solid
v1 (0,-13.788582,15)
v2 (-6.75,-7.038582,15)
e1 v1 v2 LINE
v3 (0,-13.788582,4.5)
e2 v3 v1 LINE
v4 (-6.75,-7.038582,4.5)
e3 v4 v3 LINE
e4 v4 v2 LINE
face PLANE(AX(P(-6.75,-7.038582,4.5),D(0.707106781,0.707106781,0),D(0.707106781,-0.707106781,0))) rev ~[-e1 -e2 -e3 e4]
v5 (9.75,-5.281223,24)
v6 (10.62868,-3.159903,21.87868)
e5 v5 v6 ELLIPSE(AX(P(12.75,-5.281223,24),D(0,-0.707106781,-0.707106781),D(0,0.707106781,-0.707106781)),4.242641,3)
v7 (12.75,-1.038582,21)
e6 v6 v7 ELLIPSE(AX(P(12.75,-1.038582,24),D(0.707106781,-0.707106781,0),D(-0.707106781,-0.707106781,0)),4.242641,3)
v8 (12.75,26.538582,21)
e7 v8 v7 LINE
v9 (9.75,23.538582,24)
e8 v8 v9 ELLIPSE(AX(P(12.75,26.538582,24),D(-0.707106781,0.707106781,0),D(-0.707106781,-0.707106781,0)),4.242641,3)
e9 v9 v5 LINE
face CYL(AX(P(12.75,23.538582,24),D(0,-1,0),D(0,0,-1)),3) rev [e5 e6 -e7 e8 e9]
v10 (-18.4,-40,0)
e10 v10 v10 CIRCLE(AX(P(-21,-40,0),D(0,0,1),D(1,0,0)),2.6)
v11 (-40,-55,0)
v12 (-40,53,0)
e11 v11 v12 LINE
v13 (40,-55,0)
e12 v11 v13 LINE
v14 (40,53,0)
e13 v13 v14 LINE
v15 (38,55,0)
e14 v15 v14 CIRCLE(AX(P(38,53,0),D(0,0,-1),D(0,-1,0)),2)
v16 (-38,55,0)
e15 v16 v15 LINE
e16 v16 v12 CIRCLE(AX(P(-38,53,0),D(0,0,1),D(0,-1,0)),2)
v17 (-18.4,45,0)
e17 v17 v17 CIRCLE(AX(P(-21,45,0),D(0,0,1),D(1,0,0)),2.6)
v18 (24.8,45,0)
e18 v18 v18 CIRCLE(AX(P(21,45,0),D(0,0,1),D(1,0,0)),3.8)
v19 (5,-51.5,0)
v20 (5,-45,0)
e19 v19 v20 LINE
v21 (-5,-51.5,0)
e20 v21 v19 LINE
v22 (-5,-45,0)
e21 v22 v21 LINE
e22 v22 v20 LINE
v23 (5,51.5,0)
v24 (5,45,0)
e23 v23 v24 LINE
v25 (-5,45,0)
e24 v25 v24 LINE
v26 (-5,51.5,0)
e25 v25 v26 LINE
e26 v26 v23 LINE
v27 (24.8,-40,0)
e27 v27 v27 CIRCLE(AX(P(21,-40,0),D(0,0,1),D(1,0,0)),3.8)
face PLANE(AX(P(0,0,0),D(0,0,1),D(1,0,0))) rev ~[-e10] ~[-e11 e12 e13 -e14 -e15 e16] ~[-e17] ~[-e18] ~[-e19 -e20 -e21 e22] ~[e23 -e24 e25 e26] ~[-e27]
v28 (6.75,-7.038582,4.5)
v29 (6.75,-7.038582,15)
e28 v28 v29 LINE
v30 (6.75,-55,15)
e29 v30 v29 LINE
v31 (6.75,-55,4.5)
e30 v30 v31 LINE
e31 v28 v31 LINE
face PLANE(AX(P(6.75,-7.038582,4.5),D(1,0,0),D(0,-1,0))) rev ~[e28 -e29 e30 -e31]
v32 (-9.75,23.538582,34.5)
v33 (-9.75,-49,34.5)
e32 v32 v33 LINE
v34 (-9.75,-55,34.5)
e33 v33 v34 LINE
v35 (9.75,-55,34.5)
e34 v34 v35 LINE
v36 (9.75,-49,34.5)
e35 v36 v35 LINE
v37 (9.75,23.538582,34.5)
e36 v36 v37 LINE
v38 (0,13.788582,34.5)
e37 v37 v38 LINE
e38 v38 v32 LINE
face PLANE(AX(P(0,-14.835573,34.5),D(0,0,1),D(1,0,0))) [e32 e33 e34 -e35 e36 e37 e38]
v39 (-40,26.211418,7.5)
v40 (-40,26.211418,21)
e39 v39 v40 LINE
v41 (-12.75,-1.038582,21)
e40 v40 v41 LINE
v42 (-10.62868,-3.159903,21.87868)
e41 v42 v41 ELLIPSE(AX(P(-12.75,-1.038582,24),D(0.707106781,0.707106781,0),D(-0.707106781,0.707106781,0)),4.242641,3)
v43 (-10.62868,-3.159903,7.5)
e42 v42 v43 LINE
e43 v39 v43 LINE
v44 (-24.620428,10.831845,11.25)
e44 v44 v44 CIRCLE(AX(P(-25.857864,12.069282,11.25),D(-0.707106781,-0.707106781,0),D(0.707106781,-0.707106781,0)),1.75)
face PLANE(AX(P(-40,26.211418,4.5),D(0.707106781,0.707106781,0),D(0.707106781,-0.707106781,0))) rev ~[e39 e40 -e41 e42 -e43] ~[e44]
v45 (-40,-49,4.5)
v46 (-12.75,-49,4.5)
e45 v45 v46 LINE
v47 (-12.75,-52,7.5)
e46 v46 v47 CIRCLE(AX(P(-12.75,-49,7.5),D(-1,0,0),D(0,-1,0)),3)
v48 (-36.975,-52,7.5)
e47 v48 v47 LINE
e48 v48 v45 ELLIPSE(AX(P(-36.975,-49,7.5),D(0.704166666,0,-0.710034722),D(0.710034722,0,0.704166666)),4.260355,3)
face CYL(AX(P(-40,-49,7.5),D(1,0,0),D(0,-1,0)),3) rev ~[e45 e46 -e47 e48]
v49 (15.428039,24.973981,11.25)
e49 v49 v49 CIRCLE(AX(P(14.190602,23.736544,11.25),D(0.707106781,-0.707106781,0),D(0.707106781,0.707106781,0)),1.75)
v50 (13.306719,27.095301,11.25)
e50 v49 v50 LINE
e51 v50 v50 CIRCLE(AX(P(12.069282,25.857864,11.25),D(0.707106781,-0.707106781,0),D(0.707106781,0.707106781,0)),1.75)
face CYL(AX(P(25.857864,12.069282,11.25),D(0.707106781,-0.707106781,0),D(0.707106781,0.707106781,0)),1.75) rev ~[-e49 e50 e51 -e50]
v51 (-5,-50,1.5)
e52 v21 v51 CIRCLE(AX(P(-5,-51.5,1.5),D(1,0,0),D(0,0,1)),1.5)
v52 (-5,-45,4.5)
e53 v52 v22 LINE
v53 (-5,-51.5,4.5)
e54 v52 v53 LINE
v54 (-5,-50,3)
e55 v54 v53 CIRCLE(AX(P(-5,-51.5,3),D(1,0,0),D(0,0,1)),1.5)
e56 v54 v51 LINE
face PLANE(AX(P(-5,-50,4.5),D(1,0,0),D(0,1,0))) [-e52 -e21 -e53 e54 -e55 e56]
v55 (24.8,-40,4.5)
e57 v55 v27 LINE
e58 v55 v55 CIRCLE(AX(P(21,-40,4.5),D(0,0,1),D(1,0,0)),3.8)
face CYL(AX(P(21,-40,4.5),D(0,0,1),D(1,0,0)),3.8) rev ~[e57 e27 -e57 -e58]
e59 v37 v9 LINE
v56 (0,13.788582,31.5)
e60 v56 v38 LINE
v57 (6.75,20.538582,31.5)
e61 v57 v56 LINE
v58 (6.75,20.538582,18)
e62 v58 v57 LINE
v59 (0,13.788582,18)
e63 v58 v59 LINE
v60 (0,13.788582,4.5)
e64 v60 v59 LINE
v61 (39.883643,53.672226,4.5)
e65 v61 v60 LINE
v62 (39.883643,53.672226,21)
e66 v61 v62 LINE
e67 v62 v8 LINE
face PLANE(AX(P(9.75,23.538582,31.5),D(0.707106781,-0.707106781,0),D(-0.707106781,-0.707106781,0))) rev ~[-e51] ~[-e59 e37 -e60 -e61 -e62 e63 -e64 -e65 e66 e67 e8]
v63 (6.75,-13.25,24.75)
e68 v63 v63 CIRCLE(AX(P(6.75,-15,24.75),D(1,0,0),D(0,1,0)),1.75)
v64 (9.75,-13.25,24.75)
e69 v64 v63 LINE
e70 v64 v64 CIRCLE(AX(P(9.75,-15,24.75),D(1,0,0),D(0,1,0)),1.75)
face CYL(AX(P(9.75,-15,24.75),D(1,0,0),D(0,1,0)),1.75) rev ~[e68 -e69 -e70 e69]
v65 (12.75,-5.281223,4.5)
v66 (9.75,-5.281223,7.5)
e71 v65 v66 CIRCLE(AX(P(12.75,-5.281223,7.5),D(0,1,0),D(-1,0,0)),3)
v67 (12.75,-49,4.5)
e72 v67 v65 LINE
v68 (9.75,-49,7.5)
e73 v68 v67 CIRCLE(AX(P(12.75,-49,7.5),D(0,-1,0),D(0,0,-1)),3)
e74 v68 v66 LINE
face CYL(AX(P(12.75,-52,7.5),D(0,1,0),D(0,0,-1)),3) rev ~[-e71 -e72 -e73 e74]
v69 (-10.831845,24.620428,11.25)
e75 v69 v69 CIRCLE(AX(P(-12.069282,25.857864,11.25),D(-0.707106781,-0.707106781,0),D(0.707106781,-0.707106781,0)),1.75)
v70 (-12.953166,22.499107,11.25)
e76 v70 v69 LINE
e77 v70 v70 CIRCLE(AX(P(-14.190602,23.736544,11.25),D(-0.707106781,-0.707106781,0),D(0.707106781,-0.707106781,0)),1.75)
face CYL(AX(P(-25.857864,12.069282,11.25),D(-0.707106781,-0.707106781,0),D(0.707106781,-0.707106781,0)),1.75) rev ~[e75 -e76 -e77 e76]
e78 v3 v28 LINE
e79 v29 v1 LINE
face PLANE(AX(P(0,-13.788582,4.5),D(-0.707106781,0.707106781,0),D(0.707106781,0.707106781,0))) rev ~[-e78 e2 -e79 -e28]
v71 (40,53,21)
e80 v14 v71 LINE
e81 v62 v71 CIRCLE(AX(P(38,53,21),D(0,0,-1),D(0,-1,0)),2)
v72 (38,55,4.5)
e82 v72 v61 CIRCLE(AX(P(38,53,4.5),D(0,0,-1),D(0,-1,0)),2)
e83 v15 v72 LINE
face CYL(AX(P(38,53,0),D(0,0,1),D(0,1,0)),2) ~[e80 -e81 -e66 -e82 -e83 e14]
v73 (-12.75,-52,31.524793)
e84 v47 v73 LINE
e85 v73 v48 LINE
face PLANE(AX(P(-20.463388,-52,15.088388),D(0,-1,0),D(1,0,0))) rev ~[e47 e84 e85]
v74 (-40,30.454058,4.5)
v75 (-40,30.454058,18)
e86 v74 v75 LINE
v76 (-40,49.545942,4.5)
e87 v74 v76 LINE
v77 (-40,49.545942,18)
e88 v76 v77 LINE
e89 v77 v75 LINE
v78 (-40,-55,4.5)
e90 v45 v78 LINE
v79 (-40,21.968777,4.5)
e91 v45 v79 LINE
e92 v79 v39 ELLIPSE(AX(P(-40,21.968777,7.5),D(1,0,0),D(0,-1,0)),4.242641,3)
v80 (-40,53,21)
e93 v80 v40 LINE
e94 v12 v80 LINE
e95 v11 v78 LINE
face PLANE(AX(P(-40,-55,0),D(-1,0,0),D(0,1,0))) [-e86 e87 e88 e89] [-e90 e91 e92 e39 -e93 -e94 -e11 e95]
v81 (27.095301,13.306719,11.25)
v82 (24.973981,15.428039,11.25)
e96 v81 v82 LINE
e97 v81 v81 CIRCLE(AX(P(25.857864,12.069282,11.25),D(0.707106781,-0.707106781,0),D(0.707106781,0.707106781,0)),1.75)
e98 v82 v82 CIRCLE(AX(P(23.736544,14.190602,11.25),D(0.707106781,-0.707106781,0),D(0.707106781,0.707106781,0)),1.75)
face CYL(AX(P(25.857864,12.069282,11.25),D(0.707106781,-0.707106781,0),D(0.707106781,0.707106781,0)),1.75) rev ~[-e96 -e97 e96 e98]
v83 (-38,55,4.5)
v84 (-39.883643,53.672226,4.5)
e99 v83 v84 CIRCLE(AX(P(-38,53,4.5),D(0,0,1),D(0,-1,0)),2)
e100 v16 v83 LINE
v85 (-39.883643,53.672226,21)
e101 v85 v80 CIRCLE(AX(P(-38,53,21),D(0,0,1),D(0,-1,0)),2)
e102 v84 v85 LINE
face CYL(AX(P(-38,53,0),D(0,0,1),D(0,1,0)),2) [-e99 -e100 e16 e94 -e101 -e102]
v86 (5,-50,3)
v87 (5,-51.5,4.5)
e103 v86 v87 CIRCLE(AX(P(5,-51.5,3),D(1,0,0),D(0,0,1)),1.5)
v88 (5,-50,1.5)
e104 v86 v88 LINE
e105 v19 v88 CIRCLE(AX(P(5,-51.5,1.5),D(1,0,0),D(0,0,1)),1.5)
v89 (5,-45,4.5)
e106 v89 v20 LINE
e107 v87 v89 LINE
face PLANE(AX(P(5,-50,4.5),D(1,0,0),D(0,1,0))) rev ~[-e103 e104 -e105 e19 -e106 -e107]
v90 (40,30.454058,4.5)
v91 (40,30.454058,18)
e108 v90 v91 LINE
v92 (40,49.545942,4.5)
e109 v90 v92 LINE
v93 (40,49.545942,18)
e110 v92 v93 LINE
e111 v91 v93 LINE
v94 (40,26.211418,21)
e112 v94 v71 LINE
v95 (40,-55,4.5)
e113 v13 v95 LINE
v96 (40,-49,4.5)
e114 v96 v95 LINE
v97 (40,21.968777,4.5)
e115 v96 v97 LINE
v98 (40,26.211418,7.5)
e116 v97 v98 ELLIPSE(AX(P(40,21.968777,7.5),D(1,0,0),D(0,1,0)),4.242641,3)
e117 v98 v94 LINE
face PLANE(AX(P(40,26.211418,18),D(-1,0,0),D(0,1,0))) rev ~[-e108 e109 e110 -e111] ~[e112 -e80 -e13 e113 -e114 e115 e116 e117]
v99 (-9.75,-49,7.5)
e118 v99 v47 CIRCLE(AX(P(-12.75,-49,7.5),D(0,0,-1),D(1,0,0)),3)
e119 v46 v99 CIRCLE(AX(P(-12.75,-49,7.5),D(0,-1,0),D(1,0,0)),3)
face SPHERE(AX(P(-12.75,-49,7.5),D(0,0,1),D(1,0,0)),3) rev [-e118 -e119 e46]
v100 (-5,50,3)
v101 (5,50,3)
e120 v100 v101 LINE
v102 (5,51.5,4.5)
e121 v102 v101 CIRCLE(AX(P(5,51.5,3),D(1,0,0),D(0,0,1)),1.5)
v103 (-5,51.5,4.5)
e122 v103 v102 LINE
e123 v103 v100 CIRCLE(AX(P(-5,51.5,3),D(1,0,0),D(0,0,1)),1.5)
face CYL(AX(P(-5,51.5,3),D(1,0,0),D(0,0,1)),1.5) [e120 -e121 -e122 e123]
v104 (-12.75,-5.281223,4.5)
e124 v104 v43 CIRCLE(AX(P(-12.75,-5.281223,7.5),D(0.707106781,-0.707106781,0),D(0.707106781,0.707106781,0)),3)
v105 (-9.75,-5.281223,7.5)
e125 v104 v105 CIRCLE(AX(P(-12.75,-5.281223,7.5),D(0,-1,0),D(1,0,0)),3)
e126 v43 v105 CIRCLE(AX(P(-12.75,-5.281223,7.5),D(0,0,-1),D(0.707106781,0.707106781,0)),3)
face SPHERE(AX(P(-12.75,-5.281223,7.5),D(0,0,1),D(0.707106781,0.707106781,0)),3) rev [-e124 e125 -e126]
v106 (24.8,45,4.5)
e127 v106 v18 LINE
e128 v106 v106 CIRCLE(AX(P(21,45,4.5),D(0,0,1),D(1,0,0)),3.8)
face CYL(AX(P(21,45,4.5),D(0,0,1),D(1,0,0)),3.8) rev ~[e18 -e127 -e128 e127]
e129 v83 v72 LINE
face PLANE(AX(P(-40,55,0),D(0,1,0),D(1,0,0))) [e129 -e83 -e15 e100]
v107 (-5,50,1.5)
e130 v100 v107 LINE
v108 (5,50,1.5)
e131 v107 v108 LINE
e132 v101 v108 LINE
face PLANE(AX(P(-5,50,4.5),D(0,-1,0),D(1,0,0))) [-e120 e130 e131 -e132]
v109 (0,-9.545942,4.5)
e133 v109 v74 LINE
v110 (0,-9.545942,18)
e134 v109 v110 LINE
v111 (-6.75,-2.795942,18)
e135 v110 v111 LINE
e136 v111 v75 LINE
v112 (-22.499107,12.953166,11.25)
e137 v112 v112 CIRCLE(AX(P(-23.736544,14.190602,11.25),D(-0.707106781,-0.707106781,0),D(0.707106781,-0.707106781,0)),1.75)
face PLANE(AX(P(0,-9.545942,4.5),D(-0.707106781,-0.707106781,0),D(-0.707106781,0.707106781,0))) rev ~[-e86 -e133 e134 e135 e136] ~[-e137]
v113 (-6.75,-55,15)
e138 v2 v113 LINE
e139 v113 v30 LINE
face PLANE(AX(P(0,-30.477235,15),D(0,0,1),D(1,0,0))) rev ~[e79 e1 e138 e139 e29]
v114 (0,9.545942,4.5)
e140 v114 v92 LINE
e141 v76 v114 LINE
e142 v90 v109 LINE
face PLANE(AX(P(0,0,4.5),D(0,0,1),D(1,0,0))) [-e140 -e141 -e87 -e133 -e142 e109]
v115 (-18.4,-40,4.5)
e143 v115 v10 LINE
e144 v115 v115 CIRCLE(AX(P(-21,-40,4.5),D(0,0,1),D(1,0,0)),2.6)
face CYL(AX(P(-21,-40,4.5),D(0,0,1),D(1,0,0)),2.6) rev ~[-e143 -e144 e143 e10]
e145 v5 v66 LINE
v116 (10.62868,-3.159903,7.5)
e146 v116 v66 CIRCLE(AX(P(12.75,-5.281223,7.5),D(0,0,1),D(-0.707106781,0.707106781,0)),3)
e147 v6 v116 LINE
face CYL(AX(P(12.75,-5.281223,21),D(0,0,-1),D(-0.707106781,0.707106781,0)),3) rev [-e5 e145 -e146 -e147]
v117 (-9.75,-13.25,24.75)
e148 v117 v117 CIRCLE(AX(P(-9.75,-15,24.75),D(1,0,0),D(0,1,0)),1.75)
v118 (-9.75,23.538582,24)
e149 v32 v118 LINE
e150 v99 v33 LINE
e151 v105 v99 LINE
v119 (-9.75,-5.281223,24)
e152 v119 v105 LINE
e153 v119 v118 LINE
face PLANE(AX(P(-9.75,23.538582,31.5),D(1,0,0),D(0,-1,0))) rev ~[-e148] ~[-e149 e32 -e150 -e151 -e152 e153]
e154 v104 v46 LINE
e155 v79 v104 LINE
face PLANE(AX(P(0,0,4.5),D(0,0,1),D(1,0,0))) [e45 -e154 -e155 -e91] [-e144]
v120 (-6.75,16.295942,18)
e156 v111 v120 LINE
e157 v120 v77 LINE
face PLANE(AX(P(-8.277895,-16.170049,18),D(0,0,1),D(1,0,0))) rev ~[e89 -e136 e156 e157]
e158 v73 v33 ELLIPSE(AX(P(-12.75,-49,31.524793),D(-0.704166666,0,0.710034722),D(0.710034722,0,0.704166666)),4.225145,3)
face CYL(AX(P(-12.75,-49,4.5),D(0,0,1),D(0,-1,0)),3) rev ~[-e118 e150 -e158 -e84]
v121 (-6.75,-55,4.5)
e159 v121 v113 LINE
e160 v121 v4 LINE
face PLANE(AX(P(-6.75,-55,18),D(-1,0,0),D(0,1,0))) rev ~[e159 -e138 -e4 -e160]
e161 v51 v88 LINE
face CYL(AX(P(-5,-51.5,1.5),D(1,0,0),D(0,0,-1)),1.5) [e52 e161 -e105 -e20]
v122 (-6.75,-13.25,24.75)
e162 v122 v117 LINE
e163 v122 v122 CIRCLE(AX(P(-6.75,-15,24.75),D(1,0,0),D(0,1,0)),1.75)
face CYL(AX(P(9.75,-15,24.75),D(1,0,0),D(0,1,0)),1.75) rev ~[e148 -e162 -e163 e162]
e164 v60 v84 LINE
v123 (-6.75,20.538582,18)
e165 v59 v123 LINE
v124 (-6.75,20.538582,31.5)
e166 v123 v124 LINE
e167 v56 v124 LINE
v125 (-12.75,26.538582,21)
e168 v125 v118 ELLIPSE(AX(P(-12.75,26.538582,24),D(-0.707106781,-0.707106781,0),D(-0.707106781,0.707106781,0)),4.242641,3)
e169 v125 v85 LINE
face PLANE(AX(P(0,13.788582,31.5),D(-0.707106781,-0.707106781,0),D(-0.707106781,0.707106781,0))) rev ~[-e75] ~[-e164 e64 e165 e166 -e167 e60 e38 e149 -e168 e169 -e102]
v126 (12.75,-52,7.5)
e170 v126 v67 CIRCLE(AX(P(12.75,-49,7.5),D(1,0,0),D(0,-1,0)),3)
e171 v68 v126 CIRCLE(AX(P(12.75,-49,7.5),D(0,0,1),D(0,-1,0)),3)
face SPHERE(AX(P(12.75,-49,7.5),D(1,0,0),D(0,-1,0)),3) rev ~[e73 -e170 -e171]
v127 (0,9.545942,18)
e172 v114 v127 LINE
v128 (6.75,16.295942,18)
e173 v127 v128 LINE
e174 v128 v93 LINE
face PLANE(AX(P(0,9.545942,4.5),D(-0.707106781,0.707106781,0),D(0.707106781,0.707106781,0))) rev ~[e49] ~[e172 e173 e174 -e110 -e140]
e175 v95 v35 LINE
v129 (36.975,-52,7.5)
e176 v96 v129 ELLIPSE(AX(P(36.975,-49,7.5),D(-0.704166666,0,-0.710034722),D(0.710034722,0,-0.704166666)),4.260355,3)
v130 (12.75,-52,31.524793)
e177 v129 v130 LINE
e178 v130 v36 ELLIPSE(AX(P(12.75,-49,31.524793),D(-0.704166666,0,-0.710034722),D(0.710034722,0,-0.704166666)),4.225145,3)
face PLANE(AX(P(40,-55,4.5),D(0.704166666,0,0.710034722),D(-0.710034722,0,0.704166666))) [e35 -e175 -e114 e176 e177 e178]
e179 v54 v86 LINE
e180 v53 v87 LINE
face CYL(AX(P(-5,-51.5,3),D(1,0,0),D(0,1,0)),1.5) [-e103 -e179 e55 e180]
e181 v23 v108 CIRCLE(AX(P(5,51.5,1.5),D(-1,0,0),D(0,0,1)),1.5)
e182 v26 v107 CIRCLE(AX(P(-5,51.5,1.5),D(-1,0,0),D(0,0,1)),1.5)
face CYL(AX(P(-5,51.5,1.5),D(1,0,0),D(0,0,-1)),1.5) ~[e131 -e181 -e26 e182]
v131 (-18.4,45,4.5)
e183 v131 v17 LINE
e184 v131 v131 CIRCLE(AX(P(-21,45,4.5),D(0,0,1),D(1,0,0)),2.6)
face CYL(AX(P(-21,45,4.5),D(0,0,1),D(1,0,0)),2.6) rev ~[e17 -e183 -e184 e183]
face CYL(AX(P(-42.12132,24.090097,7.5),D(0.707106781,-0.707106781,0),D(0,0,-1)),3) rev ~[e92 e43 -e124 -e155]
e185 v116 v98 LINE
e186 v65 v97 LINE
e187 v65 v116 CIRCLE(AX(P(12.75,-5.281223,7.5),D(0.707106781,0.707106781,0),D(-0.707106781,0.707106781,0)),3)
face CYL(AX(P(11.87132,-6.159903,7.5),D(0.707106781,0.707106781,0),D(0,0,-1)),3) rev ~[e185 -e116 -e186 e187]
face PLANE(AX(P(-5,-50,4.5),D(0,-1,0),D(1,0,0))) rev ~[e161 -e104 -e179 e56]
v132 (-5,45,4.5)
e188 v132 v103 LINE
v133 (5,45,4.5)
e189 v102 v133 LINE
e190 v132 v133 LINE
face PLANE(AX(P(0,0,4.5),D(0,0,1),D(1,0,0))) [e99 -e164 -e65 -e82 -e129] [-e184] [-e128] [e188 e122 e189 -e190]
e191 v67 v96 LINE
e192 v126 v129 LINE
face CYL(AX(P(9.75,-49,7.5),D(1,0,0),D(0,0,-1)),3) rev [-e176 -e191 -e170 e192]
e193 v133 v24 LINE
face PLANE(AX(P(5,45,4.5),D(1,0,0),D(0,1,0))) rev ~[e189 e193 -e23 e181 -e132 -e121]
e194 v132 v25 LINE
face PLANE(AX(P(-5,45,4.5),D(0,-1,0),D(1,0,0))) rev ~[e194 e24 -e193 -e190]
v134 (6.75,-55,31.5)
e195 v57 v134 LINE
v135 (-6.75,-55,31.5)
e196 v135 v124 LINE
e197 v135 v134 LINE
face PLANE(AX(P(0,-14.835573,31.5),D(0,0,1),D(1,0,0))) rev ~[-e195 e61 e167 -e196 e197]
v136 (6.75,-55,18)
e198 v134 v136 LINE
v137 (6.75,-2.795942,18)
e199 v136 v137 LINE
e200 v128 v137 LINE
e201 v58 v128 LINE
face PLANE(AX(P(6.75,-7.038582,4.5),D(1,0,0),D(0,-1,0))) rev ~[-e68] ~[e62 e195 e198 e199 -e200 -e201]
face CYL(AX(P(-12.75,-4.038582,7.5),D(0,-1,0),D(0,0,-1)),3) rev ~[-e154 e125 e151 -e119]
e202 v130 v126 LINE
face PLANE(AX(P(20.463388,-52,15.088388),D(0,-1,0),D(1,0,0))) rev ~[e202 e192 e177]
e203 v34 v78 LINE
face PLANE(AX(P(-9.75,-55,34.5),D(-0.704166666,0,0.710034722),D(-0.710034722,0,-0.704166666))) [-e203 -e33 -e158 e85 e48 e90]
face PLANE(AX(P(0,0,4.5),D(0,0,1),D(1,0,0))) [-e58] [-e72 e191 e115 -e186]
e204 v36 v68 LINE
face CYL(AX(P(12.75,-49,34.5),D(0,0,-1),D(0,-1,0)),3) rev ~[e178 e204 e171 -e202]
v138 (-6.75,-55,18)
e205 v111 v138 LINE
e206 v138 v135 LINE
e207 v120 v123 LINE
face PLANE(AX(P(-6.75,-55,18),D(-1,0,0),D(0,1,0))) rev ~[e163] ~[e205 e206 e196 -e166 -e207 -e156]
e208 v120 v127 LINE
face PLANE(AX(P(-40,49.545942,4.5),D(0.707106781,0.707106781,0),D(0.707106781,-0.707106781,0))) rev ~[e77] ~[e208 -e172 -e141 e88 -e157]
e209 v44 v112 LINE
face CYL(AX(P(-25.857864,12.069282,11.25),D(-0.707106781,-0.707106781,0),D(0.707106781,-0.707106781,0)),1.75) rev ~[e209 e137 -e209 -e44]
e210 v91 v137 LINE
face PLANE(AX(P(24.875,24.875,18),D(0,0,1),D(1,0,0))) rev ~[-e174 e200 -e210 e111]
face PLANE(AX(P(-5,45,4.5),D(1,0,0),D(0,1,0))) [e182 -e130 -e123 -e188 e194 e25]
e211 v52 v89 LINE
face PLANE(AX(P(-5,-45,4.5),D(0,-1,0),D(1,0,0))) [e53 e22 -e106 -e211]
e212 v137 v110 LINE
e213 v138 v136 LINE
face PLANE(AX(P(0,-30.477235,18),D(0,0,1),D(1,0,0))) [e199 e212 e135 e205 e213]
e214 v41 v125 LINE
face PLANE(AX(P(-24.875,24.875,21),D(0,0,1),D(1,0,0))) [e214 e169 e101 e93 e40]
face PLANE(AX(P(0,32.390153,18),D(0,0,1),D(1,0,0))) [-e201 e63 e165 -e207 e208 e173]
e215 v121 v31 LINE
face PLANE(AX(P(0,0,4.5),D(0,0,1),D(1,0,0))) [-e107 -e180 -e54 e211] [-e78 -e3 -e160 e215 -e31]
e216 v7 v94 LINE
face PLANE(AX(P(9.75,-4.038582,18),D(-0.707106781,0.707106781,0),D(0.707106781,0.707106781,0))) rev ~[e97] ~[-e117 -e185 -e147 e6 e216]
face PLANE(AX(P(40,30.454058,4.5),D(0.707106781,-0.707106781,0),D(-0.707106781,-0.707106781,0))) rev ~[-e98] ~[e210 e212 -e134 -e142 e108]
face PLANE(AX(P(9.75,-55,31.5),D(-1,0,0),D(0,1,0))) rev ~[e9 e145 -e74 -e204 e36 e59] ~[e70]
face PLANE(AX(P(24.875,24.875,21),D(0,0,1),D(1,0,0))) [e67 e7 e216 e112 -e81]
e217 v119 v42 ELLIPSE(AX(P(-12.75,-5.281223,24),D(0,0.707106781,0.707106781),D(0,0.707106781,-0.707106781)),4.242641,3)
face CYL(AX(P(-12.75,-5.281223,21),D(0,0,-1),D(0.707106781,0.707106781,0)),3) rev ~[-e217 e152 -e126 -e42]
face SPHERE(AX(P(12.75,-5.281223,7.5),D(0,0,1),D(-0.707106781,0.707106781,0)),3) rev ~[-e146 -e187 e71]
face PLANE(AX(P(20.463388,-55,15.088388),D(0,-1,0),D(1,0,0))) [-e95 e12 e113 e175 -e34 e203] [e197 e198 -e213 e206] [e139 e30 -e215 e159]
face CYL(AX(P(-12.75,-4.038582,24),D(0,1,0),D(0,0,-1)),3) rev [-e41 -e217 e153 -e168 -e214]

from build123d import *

# Parameters (mm, degrees)
F0_W      = 80
F0_H      = 110
F1_DEPTH  = 4.5
F2_W      = 10
F2_H      = 5
F3_DEPTH  = 4.501
F5_DEPTH  = 13.5
F6_R      = 3.8
F6_R_2    = 2.6
F7_DEPTH  = 4.501
F10_DEPTH = 13.5
F12_DEPTH = 3
F14_DEPTH = 3
F16_DEPTH = 3
F17_R     = 1.75
F18_DEPTH = 49.751
F19_R     = 1.75
F20_DEPTH = 76.9261442127
F21_R     = 1.75
F22_DEPTH = 76.9261442127
F24_DEPTH = 3
F25_R     = 1.5
F26_R     = 3
F27_R     = 2


with BuildPart() as f1:
    # F0 (on Top) → F1 (new body)
    with BuildSketch(Plane.XY):
        Rectangle(F0_W, F0_H)
    extrude(amount=F1_DEPTH)

    # F2 (on face) → F3 (cut, through all)
    with BuildSketch(Plane.XY.offset(4.5)):
        with Locations((0, 47.5)):
            Rectangle(F2_W, F2_H)
        with Locations((0, -47.5)):
            Rectangle(F2_W, F2_H)
    extrude(amount=-F3_DEPTH, mode=Mode.SUBTRACT)

    # F4 (on face) → F5 (join)
    with BuildSketch(Plane.XY.offset(4.5)):
        Polygon((40, 30.454058454), (0, -9.545941546), (-40, 30.454058454), (-40, 26.2114177669), (-9.75, -4.0385822331), (-9.75, -55), (-6.75, -55), (-6.75, -7.0385822331), (0, -13.7885822331), (6.75, -7.0385822331), (6.75, -55), (9.75, -55), (9.75, -4.0385822331), (40, 26.2114177669), align=None)
        Polygon((-40, 49.545941546), (0, 9.545941546), (40, 49.545941546), (40, 53.7885822331), (0, 13.7885822331), (-40, 53.7885822331), align=None)
    extrude(amount=F5_DEPTH)

    # F6 (on face) → F7 (cut, through all)
    with BuildSketch(Plane.XY.offset(4.5)):
        with Locations((21, -40)):
            Circle(F6_R)
        with Locations((21, 45)):
            Circle(F6_R)
        with Locations((-21, 45)):
            Circle(F6_R_2)
        with Locations((-21, -40)):
            Circle(F6_R_2)
    extrude(amount=-F7_DEPTH, mode=Mode.SUBTRACT)

    # F9 (on face) → F10 (join)
    with BuildSketch(Plane.XY.offset(18)):
        Polygon((-9.75, 23.5385822331), (-9.75, -55), (-6.75, -55), (-6.75, 20.5385822331), align=None)
        Polygon((9.75, 23.5385822331), (6.75, 20.5385822331), (6.75, -55), (9.75, -55), align=None)
    extrude(amount=F10_DEPTH)

    # F11 (on face) → F12 (join)
    with BuildSketch(Plane.XY.offset(18)):
        Polygon((9.75, 23.5385822331), (9.75, -4.0385822331), (40, 26.2114177669), (40, 53.7885822331), align=None)
        Polygon((-40, 53.7885822331), (-40, 26.2114177669), (-9.75, -4.0385822331), (-9.75, 23.5385822331), align=None)
    extrude(amount=F12_DEPTH)

    # F13 (on offset) → F14 (join)
    with BuildSketch(Plane.XY.offset(18)):
        Polygon((0, -13.7885822331), (-6.75, -7.0385822331), (-6.75, -55), (6.75, -55), (6.75, -7.0385822331), align=None)
    extrude(amount=-F14_DEPTH)

    # F15 (on face) → F16 (join)
    with BuildSketch(Plane.XY.offset(31.5)):
        Polygon((-9.75, 23.5385822331), (-9.75, -55), (9.75, -55), (9.75, 23.5385822331), (0, 13.7885822331), align=None)
    extrude(amount=F16_DEPTH)

    # F17 (on face) → F18 (cut, through all)
    with BuildSketch(Plane.YZ.offset(9.75)):
        with Locations((-15, 24.75)):
            Circle(F17_R)
    extrude(amount=-F18_DEPTH, mode=Mode.SUBTRACT)

    # F19 (on face) → F20 (cut, through all)
    with BuildSketch(Plane(origin=(6.8942911166, -6.8942911166, 0), x_dir=(0.7071067812, 0.7071067812, 0), z_dir=(0.7071067812, -0.7071067812, 0))):
        with Locations((26.8185424949, 11.25)):
            Circle(F19_R)
    extrude(amount=-F20_DEPTH, mode=Mode.SUBTRACT)

    # F21 (on face) → F22 (cut, through all)
    with BuildSketch(Plane(origin=(-6.8942911166, -6.8942911166, 0), x_dir=(0.7071067812, -0.7071067812, 0), z_dir=(-0.7071067812, -0.7071067812, 0))):
        with Locations((-26.8185424949, 11.25)):
            Circle(F21_R)
    extrude(amount=-F22_DEPTH, mode=Mode.SUBTRACT)

    # F23 (on face) → F24 (join)
    with BuildSketch(Plane.XZ.offset(55)):
        Polygon((40, 4.5), (9.75, 34.5), (9.75, 4.5), align=None)
        Polygon((-40, 4.5), (-9.75, 4.5), (-9.75, 34.5), align=None)
    extrude(amount=-F24_DEPTH)

    # F25
    f25_edges = [f1.edges().sort_by_distance(p)[0] for p in [
        (0, 50, 4.5),
        (0, 50, 0),
        (0, -50, 0),
        (0, -50, 4.5),
    ]]
    fillet(f25_edges, radius=F25_R)

    # F26
    f26_edges = [f1.edges().sort_by_distance(p)[0] for p in [
        (-9.75, -52, 19.5),
        (-9.75, 9.75, 21),
        (-9.75, -28.019291, 4.5),
        (-24.875, -52, 4.5),
        (-9.75, -4.038582, 12.75),
        (-24.875, 11.086418, 4.5),
        (24.875, -52, 4.5),
        (9.75, -52, 19.5),
        (9.75, -28.019291, 4.5),
        (9.75, -4.038582, 12.75),
        (9.75, 9.75, 21),
        (24.875, 11.086418, 4.5),
    ]]
    fillet(f26_edges, radius=F26_R)

    # F27
    f27_edges = [f1.edges().sort_by_distance(p)[0] for p in [
        (-40, 55, 2.25),
        (40, 55, 2.25),
    ]]
    fillet(f27_edges, radius=F27_R)


solid = f1.part
